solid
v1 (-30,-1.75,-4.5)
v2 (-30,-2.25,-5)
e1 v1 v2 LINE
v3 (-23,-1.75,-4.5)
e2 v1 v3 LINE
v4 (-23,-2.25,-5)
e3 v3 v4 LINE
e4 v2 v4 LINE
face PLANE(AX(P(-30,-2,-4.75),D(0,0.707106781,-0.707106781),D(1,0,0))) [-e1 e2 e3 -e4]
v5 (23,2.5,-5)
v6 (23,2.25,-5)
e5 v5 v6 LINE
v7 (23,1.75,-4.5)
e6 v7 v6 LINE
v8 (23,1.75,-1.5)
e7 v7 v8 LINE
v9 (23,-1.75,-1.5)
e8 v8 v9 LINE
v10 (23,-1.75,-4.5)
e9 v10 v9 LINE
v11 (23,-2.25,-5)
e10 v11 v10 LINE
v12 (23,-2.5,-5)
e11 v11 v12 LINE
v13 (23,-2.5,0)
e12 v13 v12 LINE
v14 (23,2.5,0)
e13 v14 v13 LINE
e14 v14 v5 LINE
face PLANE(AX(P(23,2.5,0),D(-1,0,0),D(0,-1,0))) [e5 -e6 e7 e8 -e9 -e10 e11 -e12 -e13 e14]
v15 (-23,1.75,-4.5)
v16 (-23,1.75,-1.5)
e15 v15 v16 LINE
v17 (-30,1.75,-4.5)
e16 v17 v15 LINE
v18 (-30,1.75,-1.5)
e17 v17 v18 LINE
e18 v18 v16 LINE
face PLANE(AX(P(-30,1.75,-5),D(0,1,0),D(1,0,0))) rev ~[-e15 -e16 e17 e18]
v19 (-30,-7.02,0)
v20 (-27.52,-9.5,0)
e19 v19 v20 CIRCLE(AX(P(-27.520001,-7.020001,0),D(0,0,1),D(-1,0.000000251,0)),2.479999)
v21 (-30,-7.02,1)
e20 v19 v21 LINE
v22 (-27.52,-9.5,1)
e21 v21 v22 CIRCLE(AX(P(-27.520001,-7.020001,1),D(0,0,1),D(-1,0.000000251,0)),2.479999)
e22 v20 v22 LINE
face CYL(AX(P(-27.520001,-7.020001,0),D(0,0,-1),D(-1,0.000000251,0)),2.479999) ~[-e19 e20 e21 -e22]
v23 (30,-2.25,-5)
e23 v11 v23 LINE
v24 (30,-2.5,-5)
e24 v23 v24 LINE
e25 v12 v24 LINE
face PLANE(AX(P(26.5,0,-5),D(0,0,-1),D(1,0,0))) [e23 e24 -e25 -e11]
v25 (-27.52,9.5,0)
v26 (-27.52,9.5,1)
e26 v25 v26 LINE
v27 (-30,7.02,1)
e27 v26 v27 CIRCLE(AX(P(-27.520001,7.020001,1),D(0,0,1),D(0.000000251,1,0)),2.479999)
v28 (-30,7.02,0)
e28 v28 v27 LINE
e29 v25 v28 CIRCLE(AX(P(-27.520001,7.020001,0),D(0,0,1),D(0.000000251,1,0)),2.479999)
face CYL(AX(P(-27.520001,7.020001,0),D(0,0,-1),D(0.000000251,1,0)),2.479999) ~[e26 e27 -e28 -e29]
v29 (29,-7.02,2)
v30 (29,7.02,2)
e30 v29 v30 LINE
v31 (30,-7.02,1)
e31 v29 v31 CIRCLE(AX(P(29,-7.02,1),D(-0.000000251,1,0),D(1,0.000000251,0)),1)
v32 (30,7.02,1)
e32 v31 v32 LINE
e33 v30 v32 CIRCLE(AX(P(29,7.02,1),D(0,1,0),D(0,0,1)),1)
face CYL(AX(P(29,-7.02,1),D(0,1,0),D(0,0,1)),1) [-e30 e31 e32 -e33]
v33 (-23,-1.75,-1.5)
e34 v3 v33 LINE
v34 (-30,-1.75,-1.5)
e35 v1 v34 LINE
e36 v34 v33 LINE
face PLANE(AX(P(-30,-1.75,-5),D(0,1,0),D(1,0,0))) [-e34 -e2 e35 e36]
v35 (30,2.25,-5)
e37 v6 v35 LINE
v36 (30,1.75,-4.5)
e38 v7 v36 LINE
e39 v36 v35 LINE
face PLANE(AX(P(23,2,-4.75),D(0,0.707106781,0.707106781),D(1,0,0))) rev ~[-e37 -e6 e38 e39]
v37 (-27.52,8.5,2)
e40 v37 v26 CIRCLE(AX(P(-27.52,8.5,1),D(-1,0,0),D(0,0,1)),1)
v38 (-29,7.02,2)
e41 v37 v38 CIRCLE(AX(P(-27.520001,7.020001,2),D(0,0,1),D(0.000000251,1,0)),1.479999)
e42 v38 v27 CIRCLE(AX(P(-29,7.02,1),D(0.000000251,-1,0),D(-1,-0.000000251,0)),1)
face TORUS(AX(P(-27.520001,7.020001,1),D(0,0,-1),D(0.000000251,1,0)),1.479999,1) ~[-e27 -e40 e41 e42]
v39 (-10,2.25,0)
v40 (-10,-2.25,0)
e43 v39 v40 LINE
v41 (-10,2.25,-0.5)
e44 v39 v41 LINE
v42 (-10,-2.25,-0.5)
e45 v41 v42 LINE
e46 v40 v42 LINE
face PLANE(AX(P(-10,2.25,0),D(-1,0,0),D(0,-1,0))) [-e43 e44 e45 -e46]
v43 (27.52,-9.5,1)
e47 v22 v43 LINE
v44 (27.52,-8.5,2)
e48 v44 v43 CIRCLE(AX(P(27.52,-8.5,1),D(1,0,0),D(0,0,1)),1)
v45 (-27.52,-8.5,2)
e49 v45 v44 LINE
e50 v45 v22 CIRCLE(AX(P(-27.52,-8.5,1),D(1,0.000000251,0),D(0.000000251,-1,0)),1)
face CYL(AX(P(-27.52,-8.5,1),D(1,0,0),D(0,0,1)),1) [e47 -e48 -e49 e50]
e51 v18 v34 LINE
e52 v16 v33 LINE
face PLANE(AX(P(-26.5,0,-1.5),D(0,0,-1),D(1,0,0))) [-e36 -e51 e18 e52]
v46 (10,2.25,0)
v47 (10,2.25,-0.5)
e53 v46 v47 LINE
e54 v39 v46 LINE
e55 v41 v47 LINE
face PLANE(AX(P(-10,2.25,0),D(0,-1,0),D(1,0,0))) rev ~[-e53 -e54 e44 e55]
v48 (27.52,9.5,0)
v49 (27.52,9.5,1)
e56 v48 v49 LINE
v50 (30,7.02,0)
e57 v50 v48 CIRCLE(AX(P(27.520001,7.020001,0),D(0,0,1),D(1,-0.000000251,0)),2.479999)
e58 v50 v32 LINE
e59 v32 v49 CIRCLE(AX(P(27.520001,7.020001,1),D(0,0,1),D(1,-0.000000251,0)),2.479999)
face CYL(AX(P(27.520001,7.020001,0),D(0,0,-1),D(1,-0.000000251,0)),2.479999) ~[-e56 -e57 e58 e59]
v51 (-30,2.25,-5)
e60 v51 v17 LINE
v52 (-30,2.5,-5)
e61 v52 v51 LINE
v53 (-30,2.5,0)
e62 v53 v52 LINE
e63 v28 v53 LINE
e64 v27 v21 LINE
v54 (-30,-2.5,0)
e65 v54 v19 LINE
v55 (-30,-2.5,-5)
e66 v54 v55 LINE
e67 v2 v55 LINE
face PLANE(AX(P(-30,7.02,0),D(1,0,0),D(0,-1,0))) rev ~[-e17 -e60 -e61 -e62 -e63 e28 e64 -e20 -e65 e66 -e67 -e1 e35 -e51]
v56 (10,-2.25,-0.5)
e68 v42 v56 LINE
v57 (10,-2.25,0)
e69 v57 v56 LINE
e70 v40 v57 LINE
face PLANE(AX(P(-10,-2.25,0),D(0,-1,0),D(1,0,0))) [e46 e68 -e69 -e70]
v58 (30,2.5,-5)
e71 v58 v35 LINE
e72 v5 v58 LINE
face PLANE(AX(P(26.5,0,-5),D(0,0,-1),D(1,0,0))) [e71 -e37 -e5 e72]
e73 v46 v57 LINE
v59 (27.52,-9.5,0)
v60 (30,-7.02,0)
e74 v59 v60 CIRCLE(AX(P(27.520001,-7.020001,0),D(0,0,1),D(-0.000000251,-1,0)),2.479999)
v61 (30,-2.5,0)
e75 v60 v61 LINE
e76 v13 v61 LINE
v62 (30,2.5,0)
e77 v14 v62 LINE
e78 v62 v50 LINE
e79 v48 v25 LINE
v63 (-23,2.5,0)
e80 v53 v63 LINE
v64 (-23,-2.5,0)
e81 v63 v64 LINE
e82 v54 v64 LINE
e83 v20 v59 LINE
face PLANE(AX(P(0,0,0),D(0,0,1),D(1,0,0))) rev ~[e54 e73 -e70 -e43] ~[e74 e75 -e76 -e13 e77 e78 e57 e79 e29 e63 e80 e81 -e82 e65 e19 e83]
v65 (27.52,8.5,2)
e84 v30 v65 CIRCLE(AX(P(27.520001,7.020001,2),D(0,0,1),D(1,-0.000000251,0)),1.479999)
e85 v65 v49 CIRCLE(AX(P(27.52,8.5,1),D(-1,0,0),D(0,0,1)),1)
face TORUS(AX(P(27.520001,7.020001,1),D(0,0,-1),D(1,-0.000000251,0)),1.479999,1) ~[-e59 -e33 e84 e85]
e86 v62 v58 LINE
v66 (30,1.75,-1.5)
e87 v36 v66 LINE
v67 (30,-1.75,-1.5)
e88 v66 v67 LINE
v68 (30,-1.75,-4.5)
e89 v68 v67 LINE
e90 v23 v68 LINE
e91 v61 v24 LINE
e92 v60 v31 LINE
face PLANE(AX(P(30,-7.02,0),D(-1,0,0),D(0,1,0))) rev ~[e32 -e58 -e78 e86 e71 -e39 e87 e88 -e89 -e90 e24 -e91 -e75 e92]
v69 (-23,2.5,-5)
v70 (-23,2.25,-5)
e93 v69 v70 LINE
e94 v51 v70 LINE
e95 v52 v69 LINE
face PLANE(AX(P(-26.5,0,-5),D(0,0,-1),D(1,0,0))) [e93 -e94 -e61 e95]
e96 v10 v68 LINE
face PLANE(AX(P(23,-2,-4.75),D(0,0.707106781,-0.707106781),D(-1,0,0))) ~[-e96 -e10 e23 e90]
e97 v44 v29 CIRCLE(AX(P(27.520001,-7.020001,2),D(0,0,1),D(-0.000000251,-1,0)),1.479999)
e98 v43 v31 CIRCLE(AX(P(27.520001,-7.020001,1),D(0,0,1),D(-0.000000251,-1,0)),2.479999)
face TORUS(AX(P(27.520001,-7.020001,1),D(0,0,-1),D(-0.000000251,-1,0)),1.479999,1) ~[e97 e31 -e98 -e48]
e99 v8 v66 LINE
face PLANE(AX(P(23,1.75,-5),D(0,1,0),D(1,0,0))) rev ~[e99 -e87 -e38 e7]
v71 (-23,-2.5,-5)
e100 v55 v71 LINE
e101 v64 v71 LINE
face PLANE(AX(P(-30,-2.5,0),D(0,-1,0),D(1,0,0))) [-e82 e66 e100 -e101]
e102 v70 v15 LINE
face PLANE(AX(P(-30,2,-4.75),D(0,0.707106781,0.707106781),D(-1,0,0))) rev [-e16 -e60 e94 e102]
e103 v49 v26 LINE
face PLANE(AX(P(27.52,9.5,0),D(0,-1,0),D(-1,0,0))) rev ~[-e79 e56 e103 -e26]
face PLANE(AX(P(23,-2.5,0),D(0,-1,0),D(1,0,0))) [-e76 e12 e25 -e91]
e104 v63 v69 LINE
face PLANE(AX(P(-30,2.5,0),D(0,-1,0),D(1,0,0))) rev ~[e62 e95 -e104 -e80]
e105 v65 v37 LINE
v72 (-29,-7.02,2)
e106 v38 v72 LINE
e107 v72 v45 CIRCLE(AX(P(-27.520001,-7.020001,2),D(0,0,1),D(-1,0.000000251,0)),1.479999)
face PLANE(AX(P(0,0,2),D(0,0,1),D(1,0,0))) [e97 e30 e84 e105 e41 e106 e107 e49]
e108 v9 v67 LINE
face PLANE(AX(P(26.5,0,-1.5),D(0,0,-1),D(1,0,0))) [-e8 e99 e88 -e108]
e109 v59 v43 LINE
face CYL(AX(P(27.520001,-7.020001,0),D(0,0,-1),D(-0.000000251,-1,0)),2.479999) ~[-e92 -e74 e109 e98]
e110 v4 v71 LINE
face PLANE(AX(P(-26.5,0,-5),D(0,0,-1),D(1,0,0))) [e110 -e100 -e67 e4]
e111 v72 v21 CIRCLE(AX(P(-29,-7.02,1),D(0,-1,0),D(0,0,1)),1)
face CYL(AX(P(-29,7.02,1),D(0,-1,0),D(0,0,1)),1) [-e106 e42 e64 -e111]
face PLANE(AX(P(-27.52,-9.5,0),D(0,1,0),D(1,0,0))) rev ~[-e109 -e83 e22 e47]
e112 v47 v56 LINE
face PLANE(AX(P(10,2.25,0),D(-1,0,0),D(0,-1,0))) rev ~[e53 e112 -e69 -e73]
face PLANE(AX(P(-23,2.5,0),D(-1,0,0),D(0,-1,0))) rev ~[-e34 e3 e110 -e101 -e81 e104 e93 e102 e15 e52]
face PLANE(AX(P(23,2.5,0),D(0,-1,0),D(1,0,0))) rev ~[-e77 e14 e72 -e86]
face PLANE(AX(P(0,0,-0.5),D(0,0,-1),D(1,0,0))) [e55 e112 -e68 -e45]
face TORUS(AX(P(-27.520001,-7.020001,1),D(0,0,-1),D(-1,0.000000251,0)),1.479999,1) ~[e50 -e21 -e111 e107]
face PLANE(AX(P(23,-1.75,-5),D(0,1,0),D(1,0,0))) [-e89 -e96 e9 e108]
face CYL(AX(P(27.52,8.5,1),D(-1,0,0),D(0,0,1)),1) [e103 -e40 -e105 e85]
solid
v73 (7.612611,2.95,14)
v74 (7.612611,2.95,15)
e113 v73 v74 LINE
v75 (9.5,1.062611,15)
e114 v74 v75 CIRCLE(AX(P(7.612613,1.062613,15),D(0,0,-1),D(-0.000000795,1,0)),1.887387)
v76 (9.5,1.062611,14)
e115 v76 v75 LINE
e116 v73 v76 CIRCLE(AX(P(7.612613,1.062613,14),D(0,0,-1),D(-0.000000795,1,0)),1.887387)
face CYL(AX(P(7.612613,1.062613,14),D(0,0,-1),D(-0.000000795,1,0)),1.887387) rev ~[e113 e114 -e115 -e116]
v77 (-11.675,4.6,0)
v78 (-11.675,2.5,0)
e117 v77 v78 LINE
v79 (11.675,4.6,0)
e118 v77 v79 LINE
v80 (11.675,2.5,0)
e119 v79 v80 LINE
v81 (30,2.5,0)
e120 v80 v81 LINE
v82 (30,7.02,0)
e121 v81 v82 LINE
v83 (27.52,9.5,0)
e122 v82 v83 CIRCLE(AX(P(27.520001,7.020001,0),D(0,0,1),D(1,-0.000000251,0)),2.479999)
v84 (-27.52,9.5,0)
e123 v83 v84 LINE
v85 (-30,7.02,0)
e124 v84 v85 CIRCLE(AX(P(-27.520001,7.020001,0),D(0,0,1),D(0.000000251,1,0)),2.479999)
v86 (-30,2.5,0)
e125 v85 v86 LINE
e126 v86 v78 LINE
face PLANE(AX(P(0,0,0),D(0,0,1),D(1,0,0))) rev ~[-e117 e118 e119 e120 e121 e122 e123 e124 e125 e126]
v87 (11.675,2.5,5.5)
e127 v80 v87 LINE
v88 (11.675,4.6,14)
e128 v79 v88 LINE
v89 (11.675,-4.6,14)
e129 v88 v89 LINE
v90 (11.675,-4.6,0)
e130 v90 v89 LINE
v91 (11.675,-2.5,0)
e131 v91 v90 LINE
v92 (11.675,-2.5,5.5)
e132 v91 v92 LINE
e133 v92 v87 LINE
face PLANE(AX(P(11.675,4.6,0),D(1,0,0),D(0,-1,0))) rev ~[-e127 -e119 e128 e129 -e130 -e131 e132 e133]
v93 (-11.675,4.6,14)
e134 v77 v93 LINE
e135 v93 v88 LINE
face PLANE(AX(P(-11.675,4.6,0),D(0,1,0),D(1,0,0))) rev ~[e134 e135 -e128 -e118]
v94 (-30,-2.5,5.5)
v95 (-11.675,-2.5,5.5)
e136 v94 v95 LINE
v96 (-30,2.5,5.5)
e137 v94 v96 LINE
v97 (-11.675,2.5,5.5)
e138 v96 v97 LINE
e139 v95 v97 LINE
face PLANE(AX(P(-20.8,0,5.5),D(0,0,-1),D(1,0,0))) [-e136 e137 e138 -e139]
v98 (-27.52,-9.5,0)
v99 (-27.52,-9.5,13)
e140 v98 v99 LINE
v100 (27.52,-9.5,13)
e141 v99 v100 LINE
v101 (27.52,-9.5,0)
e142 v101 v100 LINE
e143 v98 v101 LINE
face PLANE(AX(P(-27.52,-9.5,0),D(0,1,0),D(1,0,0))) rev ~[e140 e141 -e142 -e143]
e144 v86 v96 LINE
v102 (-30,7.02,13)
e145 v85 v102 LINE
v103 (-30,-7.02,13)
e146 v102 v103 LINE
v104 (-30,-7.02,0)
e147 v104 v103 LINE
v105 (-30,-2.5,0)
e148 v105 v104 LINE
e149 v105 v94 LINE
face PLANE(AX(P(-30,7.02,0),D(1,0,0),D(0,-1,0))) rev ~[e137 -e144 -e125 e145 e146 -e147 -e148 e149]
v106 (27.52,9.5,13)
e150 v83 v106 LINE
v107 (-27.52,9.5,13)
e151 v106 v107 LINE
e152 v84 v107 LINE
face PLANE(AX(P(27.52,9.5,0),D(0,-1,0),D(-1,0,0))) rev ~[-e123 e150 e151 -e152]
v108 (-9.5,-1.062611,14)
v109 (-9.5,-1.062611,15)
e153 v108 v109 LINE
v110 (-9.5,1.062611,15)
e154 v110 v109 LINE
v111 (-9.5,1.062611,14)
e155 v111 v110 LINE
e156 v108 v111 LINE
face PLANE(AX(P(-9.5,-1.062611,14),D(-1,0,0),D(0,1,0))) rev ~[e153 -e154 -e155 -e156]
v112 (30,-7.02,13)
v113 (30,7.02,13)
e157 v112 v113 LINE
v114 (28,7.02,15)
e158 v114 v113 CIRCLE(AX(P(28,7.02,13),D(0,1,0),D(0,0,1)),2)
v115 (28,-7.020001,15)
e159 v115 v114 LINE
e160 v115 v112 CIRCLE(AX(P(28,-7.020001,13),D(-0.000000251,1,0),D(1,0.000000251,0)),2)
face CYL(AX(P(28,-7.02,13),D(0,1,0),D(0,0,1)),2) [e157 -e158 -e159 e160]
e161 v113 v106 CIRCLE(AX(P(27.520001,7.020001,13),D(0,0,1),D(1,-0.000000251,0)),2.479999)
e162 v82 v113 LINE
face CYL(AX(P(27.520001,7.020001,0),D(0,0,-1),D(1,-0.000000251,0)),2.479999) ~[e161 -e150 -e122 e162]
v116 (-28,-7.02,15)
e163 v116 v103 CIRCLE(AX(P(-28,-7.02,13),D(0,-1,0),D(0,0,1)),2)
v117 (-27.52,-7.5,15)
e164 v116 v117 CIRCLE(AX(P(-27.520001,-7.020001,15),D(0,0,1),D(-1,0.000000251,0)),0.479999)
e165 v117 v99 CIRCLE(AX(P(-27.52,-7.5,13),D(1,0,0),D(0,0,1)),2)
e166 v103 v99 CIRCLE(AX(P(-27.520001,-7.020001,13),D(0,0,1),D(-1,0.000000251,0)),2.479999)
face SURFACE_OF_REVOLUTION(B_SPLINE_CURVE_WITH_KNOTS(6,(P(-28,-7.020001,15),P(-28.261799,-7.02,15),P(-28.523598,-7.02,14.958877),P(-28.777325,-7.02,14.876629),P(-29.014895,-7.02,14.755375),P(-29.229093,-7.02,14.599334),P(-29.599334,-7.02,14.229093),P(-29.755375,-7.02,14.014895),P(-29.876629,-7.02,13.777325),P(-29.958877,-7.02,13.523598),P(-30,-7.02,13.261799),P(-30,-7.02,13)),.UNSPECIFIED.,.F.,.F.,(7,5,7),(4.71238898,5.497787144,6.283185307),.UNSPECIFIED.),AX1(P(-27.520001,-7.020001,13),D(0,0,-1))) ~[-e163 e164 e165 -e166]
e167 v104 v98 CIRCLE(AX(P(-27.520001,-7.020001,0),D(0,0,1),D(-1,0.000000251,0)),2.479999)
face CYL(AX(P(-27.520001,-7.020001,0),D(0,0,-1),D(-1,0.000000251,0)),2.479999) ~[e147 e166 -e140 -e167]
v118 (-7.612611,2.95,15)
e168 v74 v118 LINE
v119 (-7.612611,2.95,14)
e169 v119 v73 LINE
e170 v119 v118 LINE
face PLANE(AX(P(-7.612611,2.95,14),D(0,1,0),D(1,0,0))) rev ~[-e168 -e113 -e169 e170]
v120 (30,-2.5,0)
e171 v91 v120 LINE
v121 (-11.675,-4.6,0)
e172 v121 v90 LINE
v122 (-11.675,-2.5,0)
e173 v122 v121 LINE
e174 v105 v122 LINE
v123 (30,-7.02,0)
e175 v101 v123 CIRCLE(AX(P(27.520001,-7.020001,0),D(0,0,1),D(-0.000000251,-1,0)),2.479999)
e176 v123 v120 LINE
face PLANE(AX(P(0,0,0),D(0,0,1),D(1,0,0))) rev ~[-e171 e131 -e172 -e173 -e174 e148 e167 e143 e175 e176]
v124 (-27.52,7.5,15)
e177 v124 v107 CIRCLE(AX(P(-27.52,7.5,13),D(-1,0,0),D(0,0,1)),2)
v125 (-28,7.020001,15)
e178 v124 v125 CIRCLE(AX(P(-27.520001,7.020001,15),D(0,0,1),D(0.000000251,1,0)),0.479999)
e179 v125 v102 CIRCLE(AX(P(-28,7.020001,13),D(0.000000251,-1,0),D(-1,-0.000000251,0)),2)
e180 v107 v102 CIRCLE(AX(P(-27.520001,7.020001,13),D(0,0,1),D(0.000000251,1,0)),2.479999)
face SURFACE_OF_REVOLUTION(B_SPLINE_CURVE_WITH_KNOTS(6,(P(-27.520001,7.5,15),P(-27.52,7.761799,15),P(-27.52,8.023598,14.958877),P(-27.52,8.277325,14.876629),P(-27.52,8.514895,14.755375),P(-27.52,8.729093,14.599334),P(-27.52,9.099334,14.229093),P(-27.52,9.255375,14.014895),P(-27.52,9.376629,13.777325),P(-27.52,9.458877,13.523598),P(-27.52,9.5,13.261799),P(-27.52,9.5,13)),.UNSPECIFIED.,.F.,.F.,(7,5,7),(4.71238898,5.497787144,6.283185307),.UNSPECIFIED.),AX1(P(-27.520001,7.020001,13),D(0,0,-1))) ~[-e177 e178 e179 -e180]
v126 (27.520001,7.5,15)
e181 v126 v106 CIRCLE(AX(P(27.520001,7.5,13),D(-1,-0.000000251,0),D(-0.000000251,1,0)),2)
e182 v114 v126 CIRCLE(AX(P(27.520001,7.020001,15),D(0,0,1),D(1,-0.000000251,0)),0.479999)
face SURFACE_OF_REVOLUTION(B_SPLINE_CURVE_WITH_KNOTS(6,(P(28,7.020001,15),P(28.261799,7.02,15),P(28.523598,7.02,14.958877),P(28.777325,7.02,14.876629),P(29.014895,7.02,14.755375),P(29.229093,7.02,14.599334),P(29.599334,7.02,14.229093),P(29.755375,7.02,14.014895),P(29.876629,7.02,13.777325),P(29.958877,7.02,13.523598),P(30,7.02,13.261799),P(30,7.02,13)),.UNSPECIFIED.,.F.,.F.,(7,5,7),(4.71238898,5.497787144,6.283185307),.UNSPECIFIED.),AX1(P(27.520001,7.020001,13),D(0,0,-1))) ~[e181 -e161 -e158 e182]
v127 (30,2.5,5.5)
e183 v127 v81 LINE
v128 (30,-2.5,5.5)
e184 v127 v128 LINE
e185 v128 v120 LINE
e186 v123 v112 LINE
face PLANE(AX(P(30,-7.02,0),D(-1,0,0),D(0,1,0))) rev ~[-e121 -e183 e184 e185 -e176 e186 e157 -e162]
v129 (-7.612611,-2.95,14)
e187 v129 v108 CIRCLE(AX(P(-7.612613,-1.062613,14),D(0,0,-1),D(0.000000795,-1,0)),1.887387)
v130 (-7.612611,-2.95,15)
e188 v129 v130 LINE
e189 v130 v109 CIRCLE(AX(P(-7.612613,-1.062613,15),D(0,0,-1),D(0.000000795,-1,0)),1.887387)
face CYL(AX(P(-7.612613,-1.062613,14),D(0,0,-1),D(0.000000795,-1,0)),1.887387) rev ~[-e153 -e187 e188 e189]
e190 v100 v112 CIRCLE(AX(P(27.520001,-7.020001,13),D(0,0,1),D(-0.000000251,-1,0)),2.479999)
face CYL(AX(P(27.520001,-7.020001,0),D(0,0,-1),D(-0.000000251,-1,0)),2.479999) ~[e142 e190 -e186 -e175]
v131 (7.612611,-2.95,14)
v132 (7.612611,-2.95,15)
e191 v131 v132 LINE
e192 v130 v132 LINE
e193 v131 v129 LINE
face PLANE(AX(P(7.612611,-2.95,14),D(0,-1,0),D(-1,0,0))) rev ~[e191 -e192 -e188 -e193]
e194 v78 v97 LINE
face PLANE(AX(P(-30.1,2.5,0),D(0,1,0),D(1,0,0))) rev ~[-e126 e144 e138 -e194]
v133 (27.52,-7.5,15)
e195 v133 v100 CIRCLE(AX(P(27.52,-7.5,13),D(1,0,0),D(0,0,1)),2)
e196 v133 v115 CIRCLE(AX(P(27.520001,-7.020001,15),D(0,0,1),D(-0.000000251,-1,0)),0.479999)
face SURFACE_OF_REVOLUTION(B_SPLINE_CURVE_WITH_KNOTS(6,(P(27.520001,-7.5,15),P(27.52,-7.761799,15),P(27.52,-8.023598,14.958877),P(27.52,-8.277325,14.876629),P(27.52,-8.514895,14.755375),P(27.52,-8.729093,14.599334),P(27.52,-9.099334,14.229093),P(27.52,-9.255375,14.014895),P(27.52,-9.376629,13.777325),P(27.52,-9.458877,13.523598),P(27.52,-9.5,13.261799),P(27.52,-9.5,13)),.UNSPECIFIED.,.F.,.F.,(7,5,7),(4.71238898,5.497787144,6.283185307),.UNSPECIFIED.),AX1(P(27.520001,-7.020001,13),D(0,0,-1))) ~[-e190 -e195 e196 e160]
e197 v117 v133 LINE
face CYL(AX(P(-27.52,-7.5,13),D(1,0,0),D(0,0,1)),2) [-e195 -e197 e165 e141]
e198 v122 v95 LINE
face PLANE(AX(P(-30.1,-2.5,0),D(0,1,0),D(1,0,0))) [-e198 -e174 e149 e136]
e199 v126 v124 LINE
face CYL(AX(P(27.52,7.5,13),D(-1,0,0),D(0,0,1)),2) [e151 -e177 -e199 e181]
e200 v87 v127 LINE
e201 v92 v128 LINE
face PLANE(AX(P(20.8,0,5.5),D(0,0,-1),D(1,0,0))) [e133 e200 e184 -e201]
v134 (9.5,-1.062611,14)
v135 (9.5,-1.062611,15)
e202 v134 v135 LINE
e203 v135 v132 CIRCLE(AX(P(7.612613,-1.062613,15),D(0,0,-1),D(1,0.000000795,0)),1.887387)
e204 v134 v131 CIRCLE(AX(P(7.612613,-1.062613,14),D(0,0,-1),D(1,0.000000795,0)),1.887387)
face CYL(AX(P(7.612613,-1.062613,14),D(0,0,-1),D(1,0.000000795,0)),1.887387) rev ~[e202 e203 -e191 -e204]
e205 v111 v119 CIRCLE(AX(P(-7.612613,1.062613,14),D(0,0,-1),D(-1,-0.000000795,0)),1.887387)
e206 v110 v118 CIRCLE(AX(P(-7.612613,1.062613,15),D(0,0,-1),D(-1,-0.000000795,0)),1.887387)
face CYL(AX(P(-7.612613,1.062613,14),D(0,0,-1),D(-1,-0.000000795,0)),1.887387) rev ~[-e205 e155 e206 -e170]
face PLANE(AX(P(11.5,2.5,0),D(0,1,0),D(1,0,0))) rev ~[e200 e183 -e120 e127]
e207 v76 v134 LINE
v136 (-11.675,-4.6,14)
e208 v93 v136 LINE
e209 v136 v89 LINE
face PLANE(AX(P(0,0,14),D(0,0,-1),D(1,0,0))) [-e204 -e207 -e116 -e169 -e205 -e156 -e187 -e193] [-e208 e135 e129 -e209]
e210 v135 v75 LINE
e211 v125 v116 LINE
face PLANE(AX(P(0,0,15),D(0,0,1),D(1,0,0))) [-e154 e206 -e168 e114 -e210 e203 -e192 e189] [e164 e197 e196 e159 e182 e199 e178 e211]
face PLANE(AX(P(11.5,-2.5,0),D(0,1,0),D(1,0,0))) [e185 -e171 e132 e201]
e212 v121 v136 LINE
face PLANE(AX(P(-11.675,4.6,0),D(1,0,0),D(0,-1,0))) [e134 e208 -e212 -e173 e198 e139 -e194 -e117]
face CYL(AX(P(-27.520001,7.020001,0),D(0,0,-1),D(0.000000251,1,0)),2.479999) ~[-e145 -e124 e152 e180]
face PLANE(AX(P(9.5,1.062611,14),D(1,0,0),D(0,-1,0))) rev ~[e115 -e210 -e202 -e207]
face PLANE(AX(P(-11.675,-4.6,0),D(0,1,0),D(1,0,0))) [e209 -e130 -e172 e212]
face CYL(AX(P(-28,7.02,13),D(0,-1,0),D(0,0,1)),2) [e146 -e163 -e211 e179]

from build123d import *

# Parameters (mm, degrees)
PAD_DEPTH       = 15
SKETCH001_W     = 23.35
SKETCH001_H     = 9.2
POCKET_DEPTH    = 14
POCKET001_DEPTH = 1.001
SKETCH003_W     = 18.6
SKETCH003_H     = 5
POCKET002_DEPTH = 5.5
FILLET_R        = 2
PAD001_DEPTH    = 2
SKETCH005_W     = 7
SKETCH005_H     = 5
PAD002_DEPTH    = 5
SKETCH007_W     = 20
SKETCH007_H     = 4.5
PAD003_DEPTH    = 0.5
FILLET001_R     = 1
SKETCH008_W     = 7
SKETCH008_H     = 3.5
POCKET003_DEPTH = 3.5
CHAMFER_SIZE    = 0.5


with BuildPart() as body:
    # Sketch → Pad (new body)
    with BuildSketch(Plane.XY):
        with BuildLine():
            Line((-30, 7.02), (-30, -7.02))
            ThreePointArc((-30, -7.02), (-29.273625, -8.773625), (-27.52, -9.5))
            Line((-27.52, -9.5), (27.52, -9.5))
            ThreePointArc((27.52, -9.5), (29.273625, -8.773625), (30, -7.02))
            Line((30, -7.02), (30, 7.02))
            ThreePointArc((30, 7.02), (29.273625, 8.773625), (27.52, 9.5))
            Line((27.52, 9.5), (-27.52, 9.5))
            ThreePointArc((-27.52, 9.5), (-29.273625, 8.773625), (-30, 7.02))
        make_face()
    extrude(amount=PAD_DEPTH)

    # Sketch001 (on Face9 of Pad) → Pocket (cut)
    with BuildSketch(Plane(origin=(0, 0, 0), x_dir=(1, 0, 0), z_dir=(0, 0, -1))):
        Rectangle(SKETCH001_W, SKETCH001_H)
    extrude(amount=-POCKET_DEPTH, mode=Mode.SUBTRACT)

    # Sketch002 (on Face15 of Pocket) → Pocket001 (cut, through all)
    with BuildSketch(Plane(origin=(0, 0, 14), x_dir=(1, 0, 0), z_dir=(0, 0, -1))):
        with BuildLine():
            Line((-9.5, 1.062611), (-9.5, -1.062611))
            ThreePointArc((-9.5, -1.062611), (-8.947197, -2.397197), (-7.612611, -2.95))
            Line((-7.612611, -2.95), (7.612611, -2.95))
            ThreePointArc((7.612611, -2.95), (8.947197, -2.397197), (9.5, -1.062611))
            Line((9.5, -1.062611), (9.5, 1.062611))
            ThreePointArc((9.5, 1.062611), (8.947197, 2.397197), (7.612611, 2.95))
            Line((7.612611, 2.95), (-7.612611, 2.95))
            ThreePointArc((-7.612611, 2.95), (-8.947197, 2.397197), (-9.5, 1.062611))
        make_face()
    extrude(amount=-POCKET001_DEPTH, mode=Mode.SUBTRACT)

    # Sketch003 (on Face4 of Pocket001) → Pocket002 (cut)
    with BuildSketch(Plane(origin=(0, 0, 0), x_dir=(1, 0, 0), z_dir=(0, 0, -1))):
        with Locations((-20.8, 0)):
            Rectangle(SKETCH003_W, SKETCH003_H)
        with Locations((20.8, 0)):
            Rectangle(SKETCH003_W, SKETCH003_H)
    extrude(amount=-POCKET002_DEPTH, mode=Mode.SUBTRACT)

    # Fillet
    fillet_edges = [body.edges().sort_by_distance(p)[0] for p in [
        (0, -9.5, 15),
        (0, 9.5, 15),
    ]]
    fillet(fillet_edges, radius=FILLET_R)


with BuildPart() as body001:
    # Sketch004 → Pad001 (new body)
    with BuildSketch(Plane.XY):
        with BuildLine():
            Line((-30, 7.02), (-30, -7.02))
            ThreePointArc((-30, -7.02), (-29.273625, -8.773625), (-27.52, -9.5))
            Line((-27.52, -9.5), (27.52, -9.5))
            ThreePointArc((27.52, -9.5), (29.273625, -8.773625), (30, -7.02))
            Line((30, -7.02), (30, 7.02))
            ThreePointArc((30, 7.02), (29.273625, 8.773625), (27.52, 9.5))
            Line((27.52, 9.5), (-27.52, 9.5))
            ThreePointArc((-27.52, 9.5), (-29.273625, 8.773625), (-30, 7.02))
        make_face()
    extrude(amount=PAD001_DEPTH)

    # Sketch005 (on Face9 of Pad001) → Pad002 (join)
    with BuildSketch(Plane(origin=(0, 0, 0), x_dir=(1, 0, 0), z_dir=(0, 0, -1))):
        with Locations((-26.5, 0)):
            Rectangle(SKETCH005_W, SKETCH005_H)
        with Locations((26.5, 0)):
            Rectangle(SKETCH005_W, SKETCH005_H)
    extrude(amount=PAD002_DEPTH)

    # Sketch007 → Pad003 (join)
    with BuildSketch(Plane(origin=(0, 0, 0), x_dir=(1, 0, 0), z_dir=(0, 0, -1))):
        Rectangle(SKETCH007_W, SKETCH007_H)
    extrude(amount=PAD003_DEPTH)

    # Fillet001
    fillet001_edges = [body001.edges().sort_by_distance(p)[0] for p in [
        (0, 9.5, 2),
        (0, -9.5, 2),
    ]]
    fillet(fillet001_edges, radius=FILLET001_R)

    # Sketch008 (on DatumPlane) → Pocket003 (cut)
    with BuildSketch(Plane(origin=(0, 0, -5), x_dir=(1, 0, 0), z_dir=(0, 0, -1))):
        with Locations((-26.5, 0)):
            Rectangle(SKETCH008_W, SKETCH008_H)
        with Locations((26.5, 0)):
            Rectangle(SKETCH008_W, SKETCH008_H)
    extrude(amount=-POCKET003_DEPTH, mode=Mode.SUBTRACT)

    # Chamfer
    chamfer_edges = [body001.edges().sort_by_distance(p)[0] for p in [
        (26.5, -1.75, -5),
        (26.5, 1.75, -5),
        (-26.5, 1.75, -5),
        (-26.5, -1.75, -5),
    ]]
    chamfer(chamfer_edges, length=CHAMFER_SIZE)


solid = Compound([body.part, body001.part])
